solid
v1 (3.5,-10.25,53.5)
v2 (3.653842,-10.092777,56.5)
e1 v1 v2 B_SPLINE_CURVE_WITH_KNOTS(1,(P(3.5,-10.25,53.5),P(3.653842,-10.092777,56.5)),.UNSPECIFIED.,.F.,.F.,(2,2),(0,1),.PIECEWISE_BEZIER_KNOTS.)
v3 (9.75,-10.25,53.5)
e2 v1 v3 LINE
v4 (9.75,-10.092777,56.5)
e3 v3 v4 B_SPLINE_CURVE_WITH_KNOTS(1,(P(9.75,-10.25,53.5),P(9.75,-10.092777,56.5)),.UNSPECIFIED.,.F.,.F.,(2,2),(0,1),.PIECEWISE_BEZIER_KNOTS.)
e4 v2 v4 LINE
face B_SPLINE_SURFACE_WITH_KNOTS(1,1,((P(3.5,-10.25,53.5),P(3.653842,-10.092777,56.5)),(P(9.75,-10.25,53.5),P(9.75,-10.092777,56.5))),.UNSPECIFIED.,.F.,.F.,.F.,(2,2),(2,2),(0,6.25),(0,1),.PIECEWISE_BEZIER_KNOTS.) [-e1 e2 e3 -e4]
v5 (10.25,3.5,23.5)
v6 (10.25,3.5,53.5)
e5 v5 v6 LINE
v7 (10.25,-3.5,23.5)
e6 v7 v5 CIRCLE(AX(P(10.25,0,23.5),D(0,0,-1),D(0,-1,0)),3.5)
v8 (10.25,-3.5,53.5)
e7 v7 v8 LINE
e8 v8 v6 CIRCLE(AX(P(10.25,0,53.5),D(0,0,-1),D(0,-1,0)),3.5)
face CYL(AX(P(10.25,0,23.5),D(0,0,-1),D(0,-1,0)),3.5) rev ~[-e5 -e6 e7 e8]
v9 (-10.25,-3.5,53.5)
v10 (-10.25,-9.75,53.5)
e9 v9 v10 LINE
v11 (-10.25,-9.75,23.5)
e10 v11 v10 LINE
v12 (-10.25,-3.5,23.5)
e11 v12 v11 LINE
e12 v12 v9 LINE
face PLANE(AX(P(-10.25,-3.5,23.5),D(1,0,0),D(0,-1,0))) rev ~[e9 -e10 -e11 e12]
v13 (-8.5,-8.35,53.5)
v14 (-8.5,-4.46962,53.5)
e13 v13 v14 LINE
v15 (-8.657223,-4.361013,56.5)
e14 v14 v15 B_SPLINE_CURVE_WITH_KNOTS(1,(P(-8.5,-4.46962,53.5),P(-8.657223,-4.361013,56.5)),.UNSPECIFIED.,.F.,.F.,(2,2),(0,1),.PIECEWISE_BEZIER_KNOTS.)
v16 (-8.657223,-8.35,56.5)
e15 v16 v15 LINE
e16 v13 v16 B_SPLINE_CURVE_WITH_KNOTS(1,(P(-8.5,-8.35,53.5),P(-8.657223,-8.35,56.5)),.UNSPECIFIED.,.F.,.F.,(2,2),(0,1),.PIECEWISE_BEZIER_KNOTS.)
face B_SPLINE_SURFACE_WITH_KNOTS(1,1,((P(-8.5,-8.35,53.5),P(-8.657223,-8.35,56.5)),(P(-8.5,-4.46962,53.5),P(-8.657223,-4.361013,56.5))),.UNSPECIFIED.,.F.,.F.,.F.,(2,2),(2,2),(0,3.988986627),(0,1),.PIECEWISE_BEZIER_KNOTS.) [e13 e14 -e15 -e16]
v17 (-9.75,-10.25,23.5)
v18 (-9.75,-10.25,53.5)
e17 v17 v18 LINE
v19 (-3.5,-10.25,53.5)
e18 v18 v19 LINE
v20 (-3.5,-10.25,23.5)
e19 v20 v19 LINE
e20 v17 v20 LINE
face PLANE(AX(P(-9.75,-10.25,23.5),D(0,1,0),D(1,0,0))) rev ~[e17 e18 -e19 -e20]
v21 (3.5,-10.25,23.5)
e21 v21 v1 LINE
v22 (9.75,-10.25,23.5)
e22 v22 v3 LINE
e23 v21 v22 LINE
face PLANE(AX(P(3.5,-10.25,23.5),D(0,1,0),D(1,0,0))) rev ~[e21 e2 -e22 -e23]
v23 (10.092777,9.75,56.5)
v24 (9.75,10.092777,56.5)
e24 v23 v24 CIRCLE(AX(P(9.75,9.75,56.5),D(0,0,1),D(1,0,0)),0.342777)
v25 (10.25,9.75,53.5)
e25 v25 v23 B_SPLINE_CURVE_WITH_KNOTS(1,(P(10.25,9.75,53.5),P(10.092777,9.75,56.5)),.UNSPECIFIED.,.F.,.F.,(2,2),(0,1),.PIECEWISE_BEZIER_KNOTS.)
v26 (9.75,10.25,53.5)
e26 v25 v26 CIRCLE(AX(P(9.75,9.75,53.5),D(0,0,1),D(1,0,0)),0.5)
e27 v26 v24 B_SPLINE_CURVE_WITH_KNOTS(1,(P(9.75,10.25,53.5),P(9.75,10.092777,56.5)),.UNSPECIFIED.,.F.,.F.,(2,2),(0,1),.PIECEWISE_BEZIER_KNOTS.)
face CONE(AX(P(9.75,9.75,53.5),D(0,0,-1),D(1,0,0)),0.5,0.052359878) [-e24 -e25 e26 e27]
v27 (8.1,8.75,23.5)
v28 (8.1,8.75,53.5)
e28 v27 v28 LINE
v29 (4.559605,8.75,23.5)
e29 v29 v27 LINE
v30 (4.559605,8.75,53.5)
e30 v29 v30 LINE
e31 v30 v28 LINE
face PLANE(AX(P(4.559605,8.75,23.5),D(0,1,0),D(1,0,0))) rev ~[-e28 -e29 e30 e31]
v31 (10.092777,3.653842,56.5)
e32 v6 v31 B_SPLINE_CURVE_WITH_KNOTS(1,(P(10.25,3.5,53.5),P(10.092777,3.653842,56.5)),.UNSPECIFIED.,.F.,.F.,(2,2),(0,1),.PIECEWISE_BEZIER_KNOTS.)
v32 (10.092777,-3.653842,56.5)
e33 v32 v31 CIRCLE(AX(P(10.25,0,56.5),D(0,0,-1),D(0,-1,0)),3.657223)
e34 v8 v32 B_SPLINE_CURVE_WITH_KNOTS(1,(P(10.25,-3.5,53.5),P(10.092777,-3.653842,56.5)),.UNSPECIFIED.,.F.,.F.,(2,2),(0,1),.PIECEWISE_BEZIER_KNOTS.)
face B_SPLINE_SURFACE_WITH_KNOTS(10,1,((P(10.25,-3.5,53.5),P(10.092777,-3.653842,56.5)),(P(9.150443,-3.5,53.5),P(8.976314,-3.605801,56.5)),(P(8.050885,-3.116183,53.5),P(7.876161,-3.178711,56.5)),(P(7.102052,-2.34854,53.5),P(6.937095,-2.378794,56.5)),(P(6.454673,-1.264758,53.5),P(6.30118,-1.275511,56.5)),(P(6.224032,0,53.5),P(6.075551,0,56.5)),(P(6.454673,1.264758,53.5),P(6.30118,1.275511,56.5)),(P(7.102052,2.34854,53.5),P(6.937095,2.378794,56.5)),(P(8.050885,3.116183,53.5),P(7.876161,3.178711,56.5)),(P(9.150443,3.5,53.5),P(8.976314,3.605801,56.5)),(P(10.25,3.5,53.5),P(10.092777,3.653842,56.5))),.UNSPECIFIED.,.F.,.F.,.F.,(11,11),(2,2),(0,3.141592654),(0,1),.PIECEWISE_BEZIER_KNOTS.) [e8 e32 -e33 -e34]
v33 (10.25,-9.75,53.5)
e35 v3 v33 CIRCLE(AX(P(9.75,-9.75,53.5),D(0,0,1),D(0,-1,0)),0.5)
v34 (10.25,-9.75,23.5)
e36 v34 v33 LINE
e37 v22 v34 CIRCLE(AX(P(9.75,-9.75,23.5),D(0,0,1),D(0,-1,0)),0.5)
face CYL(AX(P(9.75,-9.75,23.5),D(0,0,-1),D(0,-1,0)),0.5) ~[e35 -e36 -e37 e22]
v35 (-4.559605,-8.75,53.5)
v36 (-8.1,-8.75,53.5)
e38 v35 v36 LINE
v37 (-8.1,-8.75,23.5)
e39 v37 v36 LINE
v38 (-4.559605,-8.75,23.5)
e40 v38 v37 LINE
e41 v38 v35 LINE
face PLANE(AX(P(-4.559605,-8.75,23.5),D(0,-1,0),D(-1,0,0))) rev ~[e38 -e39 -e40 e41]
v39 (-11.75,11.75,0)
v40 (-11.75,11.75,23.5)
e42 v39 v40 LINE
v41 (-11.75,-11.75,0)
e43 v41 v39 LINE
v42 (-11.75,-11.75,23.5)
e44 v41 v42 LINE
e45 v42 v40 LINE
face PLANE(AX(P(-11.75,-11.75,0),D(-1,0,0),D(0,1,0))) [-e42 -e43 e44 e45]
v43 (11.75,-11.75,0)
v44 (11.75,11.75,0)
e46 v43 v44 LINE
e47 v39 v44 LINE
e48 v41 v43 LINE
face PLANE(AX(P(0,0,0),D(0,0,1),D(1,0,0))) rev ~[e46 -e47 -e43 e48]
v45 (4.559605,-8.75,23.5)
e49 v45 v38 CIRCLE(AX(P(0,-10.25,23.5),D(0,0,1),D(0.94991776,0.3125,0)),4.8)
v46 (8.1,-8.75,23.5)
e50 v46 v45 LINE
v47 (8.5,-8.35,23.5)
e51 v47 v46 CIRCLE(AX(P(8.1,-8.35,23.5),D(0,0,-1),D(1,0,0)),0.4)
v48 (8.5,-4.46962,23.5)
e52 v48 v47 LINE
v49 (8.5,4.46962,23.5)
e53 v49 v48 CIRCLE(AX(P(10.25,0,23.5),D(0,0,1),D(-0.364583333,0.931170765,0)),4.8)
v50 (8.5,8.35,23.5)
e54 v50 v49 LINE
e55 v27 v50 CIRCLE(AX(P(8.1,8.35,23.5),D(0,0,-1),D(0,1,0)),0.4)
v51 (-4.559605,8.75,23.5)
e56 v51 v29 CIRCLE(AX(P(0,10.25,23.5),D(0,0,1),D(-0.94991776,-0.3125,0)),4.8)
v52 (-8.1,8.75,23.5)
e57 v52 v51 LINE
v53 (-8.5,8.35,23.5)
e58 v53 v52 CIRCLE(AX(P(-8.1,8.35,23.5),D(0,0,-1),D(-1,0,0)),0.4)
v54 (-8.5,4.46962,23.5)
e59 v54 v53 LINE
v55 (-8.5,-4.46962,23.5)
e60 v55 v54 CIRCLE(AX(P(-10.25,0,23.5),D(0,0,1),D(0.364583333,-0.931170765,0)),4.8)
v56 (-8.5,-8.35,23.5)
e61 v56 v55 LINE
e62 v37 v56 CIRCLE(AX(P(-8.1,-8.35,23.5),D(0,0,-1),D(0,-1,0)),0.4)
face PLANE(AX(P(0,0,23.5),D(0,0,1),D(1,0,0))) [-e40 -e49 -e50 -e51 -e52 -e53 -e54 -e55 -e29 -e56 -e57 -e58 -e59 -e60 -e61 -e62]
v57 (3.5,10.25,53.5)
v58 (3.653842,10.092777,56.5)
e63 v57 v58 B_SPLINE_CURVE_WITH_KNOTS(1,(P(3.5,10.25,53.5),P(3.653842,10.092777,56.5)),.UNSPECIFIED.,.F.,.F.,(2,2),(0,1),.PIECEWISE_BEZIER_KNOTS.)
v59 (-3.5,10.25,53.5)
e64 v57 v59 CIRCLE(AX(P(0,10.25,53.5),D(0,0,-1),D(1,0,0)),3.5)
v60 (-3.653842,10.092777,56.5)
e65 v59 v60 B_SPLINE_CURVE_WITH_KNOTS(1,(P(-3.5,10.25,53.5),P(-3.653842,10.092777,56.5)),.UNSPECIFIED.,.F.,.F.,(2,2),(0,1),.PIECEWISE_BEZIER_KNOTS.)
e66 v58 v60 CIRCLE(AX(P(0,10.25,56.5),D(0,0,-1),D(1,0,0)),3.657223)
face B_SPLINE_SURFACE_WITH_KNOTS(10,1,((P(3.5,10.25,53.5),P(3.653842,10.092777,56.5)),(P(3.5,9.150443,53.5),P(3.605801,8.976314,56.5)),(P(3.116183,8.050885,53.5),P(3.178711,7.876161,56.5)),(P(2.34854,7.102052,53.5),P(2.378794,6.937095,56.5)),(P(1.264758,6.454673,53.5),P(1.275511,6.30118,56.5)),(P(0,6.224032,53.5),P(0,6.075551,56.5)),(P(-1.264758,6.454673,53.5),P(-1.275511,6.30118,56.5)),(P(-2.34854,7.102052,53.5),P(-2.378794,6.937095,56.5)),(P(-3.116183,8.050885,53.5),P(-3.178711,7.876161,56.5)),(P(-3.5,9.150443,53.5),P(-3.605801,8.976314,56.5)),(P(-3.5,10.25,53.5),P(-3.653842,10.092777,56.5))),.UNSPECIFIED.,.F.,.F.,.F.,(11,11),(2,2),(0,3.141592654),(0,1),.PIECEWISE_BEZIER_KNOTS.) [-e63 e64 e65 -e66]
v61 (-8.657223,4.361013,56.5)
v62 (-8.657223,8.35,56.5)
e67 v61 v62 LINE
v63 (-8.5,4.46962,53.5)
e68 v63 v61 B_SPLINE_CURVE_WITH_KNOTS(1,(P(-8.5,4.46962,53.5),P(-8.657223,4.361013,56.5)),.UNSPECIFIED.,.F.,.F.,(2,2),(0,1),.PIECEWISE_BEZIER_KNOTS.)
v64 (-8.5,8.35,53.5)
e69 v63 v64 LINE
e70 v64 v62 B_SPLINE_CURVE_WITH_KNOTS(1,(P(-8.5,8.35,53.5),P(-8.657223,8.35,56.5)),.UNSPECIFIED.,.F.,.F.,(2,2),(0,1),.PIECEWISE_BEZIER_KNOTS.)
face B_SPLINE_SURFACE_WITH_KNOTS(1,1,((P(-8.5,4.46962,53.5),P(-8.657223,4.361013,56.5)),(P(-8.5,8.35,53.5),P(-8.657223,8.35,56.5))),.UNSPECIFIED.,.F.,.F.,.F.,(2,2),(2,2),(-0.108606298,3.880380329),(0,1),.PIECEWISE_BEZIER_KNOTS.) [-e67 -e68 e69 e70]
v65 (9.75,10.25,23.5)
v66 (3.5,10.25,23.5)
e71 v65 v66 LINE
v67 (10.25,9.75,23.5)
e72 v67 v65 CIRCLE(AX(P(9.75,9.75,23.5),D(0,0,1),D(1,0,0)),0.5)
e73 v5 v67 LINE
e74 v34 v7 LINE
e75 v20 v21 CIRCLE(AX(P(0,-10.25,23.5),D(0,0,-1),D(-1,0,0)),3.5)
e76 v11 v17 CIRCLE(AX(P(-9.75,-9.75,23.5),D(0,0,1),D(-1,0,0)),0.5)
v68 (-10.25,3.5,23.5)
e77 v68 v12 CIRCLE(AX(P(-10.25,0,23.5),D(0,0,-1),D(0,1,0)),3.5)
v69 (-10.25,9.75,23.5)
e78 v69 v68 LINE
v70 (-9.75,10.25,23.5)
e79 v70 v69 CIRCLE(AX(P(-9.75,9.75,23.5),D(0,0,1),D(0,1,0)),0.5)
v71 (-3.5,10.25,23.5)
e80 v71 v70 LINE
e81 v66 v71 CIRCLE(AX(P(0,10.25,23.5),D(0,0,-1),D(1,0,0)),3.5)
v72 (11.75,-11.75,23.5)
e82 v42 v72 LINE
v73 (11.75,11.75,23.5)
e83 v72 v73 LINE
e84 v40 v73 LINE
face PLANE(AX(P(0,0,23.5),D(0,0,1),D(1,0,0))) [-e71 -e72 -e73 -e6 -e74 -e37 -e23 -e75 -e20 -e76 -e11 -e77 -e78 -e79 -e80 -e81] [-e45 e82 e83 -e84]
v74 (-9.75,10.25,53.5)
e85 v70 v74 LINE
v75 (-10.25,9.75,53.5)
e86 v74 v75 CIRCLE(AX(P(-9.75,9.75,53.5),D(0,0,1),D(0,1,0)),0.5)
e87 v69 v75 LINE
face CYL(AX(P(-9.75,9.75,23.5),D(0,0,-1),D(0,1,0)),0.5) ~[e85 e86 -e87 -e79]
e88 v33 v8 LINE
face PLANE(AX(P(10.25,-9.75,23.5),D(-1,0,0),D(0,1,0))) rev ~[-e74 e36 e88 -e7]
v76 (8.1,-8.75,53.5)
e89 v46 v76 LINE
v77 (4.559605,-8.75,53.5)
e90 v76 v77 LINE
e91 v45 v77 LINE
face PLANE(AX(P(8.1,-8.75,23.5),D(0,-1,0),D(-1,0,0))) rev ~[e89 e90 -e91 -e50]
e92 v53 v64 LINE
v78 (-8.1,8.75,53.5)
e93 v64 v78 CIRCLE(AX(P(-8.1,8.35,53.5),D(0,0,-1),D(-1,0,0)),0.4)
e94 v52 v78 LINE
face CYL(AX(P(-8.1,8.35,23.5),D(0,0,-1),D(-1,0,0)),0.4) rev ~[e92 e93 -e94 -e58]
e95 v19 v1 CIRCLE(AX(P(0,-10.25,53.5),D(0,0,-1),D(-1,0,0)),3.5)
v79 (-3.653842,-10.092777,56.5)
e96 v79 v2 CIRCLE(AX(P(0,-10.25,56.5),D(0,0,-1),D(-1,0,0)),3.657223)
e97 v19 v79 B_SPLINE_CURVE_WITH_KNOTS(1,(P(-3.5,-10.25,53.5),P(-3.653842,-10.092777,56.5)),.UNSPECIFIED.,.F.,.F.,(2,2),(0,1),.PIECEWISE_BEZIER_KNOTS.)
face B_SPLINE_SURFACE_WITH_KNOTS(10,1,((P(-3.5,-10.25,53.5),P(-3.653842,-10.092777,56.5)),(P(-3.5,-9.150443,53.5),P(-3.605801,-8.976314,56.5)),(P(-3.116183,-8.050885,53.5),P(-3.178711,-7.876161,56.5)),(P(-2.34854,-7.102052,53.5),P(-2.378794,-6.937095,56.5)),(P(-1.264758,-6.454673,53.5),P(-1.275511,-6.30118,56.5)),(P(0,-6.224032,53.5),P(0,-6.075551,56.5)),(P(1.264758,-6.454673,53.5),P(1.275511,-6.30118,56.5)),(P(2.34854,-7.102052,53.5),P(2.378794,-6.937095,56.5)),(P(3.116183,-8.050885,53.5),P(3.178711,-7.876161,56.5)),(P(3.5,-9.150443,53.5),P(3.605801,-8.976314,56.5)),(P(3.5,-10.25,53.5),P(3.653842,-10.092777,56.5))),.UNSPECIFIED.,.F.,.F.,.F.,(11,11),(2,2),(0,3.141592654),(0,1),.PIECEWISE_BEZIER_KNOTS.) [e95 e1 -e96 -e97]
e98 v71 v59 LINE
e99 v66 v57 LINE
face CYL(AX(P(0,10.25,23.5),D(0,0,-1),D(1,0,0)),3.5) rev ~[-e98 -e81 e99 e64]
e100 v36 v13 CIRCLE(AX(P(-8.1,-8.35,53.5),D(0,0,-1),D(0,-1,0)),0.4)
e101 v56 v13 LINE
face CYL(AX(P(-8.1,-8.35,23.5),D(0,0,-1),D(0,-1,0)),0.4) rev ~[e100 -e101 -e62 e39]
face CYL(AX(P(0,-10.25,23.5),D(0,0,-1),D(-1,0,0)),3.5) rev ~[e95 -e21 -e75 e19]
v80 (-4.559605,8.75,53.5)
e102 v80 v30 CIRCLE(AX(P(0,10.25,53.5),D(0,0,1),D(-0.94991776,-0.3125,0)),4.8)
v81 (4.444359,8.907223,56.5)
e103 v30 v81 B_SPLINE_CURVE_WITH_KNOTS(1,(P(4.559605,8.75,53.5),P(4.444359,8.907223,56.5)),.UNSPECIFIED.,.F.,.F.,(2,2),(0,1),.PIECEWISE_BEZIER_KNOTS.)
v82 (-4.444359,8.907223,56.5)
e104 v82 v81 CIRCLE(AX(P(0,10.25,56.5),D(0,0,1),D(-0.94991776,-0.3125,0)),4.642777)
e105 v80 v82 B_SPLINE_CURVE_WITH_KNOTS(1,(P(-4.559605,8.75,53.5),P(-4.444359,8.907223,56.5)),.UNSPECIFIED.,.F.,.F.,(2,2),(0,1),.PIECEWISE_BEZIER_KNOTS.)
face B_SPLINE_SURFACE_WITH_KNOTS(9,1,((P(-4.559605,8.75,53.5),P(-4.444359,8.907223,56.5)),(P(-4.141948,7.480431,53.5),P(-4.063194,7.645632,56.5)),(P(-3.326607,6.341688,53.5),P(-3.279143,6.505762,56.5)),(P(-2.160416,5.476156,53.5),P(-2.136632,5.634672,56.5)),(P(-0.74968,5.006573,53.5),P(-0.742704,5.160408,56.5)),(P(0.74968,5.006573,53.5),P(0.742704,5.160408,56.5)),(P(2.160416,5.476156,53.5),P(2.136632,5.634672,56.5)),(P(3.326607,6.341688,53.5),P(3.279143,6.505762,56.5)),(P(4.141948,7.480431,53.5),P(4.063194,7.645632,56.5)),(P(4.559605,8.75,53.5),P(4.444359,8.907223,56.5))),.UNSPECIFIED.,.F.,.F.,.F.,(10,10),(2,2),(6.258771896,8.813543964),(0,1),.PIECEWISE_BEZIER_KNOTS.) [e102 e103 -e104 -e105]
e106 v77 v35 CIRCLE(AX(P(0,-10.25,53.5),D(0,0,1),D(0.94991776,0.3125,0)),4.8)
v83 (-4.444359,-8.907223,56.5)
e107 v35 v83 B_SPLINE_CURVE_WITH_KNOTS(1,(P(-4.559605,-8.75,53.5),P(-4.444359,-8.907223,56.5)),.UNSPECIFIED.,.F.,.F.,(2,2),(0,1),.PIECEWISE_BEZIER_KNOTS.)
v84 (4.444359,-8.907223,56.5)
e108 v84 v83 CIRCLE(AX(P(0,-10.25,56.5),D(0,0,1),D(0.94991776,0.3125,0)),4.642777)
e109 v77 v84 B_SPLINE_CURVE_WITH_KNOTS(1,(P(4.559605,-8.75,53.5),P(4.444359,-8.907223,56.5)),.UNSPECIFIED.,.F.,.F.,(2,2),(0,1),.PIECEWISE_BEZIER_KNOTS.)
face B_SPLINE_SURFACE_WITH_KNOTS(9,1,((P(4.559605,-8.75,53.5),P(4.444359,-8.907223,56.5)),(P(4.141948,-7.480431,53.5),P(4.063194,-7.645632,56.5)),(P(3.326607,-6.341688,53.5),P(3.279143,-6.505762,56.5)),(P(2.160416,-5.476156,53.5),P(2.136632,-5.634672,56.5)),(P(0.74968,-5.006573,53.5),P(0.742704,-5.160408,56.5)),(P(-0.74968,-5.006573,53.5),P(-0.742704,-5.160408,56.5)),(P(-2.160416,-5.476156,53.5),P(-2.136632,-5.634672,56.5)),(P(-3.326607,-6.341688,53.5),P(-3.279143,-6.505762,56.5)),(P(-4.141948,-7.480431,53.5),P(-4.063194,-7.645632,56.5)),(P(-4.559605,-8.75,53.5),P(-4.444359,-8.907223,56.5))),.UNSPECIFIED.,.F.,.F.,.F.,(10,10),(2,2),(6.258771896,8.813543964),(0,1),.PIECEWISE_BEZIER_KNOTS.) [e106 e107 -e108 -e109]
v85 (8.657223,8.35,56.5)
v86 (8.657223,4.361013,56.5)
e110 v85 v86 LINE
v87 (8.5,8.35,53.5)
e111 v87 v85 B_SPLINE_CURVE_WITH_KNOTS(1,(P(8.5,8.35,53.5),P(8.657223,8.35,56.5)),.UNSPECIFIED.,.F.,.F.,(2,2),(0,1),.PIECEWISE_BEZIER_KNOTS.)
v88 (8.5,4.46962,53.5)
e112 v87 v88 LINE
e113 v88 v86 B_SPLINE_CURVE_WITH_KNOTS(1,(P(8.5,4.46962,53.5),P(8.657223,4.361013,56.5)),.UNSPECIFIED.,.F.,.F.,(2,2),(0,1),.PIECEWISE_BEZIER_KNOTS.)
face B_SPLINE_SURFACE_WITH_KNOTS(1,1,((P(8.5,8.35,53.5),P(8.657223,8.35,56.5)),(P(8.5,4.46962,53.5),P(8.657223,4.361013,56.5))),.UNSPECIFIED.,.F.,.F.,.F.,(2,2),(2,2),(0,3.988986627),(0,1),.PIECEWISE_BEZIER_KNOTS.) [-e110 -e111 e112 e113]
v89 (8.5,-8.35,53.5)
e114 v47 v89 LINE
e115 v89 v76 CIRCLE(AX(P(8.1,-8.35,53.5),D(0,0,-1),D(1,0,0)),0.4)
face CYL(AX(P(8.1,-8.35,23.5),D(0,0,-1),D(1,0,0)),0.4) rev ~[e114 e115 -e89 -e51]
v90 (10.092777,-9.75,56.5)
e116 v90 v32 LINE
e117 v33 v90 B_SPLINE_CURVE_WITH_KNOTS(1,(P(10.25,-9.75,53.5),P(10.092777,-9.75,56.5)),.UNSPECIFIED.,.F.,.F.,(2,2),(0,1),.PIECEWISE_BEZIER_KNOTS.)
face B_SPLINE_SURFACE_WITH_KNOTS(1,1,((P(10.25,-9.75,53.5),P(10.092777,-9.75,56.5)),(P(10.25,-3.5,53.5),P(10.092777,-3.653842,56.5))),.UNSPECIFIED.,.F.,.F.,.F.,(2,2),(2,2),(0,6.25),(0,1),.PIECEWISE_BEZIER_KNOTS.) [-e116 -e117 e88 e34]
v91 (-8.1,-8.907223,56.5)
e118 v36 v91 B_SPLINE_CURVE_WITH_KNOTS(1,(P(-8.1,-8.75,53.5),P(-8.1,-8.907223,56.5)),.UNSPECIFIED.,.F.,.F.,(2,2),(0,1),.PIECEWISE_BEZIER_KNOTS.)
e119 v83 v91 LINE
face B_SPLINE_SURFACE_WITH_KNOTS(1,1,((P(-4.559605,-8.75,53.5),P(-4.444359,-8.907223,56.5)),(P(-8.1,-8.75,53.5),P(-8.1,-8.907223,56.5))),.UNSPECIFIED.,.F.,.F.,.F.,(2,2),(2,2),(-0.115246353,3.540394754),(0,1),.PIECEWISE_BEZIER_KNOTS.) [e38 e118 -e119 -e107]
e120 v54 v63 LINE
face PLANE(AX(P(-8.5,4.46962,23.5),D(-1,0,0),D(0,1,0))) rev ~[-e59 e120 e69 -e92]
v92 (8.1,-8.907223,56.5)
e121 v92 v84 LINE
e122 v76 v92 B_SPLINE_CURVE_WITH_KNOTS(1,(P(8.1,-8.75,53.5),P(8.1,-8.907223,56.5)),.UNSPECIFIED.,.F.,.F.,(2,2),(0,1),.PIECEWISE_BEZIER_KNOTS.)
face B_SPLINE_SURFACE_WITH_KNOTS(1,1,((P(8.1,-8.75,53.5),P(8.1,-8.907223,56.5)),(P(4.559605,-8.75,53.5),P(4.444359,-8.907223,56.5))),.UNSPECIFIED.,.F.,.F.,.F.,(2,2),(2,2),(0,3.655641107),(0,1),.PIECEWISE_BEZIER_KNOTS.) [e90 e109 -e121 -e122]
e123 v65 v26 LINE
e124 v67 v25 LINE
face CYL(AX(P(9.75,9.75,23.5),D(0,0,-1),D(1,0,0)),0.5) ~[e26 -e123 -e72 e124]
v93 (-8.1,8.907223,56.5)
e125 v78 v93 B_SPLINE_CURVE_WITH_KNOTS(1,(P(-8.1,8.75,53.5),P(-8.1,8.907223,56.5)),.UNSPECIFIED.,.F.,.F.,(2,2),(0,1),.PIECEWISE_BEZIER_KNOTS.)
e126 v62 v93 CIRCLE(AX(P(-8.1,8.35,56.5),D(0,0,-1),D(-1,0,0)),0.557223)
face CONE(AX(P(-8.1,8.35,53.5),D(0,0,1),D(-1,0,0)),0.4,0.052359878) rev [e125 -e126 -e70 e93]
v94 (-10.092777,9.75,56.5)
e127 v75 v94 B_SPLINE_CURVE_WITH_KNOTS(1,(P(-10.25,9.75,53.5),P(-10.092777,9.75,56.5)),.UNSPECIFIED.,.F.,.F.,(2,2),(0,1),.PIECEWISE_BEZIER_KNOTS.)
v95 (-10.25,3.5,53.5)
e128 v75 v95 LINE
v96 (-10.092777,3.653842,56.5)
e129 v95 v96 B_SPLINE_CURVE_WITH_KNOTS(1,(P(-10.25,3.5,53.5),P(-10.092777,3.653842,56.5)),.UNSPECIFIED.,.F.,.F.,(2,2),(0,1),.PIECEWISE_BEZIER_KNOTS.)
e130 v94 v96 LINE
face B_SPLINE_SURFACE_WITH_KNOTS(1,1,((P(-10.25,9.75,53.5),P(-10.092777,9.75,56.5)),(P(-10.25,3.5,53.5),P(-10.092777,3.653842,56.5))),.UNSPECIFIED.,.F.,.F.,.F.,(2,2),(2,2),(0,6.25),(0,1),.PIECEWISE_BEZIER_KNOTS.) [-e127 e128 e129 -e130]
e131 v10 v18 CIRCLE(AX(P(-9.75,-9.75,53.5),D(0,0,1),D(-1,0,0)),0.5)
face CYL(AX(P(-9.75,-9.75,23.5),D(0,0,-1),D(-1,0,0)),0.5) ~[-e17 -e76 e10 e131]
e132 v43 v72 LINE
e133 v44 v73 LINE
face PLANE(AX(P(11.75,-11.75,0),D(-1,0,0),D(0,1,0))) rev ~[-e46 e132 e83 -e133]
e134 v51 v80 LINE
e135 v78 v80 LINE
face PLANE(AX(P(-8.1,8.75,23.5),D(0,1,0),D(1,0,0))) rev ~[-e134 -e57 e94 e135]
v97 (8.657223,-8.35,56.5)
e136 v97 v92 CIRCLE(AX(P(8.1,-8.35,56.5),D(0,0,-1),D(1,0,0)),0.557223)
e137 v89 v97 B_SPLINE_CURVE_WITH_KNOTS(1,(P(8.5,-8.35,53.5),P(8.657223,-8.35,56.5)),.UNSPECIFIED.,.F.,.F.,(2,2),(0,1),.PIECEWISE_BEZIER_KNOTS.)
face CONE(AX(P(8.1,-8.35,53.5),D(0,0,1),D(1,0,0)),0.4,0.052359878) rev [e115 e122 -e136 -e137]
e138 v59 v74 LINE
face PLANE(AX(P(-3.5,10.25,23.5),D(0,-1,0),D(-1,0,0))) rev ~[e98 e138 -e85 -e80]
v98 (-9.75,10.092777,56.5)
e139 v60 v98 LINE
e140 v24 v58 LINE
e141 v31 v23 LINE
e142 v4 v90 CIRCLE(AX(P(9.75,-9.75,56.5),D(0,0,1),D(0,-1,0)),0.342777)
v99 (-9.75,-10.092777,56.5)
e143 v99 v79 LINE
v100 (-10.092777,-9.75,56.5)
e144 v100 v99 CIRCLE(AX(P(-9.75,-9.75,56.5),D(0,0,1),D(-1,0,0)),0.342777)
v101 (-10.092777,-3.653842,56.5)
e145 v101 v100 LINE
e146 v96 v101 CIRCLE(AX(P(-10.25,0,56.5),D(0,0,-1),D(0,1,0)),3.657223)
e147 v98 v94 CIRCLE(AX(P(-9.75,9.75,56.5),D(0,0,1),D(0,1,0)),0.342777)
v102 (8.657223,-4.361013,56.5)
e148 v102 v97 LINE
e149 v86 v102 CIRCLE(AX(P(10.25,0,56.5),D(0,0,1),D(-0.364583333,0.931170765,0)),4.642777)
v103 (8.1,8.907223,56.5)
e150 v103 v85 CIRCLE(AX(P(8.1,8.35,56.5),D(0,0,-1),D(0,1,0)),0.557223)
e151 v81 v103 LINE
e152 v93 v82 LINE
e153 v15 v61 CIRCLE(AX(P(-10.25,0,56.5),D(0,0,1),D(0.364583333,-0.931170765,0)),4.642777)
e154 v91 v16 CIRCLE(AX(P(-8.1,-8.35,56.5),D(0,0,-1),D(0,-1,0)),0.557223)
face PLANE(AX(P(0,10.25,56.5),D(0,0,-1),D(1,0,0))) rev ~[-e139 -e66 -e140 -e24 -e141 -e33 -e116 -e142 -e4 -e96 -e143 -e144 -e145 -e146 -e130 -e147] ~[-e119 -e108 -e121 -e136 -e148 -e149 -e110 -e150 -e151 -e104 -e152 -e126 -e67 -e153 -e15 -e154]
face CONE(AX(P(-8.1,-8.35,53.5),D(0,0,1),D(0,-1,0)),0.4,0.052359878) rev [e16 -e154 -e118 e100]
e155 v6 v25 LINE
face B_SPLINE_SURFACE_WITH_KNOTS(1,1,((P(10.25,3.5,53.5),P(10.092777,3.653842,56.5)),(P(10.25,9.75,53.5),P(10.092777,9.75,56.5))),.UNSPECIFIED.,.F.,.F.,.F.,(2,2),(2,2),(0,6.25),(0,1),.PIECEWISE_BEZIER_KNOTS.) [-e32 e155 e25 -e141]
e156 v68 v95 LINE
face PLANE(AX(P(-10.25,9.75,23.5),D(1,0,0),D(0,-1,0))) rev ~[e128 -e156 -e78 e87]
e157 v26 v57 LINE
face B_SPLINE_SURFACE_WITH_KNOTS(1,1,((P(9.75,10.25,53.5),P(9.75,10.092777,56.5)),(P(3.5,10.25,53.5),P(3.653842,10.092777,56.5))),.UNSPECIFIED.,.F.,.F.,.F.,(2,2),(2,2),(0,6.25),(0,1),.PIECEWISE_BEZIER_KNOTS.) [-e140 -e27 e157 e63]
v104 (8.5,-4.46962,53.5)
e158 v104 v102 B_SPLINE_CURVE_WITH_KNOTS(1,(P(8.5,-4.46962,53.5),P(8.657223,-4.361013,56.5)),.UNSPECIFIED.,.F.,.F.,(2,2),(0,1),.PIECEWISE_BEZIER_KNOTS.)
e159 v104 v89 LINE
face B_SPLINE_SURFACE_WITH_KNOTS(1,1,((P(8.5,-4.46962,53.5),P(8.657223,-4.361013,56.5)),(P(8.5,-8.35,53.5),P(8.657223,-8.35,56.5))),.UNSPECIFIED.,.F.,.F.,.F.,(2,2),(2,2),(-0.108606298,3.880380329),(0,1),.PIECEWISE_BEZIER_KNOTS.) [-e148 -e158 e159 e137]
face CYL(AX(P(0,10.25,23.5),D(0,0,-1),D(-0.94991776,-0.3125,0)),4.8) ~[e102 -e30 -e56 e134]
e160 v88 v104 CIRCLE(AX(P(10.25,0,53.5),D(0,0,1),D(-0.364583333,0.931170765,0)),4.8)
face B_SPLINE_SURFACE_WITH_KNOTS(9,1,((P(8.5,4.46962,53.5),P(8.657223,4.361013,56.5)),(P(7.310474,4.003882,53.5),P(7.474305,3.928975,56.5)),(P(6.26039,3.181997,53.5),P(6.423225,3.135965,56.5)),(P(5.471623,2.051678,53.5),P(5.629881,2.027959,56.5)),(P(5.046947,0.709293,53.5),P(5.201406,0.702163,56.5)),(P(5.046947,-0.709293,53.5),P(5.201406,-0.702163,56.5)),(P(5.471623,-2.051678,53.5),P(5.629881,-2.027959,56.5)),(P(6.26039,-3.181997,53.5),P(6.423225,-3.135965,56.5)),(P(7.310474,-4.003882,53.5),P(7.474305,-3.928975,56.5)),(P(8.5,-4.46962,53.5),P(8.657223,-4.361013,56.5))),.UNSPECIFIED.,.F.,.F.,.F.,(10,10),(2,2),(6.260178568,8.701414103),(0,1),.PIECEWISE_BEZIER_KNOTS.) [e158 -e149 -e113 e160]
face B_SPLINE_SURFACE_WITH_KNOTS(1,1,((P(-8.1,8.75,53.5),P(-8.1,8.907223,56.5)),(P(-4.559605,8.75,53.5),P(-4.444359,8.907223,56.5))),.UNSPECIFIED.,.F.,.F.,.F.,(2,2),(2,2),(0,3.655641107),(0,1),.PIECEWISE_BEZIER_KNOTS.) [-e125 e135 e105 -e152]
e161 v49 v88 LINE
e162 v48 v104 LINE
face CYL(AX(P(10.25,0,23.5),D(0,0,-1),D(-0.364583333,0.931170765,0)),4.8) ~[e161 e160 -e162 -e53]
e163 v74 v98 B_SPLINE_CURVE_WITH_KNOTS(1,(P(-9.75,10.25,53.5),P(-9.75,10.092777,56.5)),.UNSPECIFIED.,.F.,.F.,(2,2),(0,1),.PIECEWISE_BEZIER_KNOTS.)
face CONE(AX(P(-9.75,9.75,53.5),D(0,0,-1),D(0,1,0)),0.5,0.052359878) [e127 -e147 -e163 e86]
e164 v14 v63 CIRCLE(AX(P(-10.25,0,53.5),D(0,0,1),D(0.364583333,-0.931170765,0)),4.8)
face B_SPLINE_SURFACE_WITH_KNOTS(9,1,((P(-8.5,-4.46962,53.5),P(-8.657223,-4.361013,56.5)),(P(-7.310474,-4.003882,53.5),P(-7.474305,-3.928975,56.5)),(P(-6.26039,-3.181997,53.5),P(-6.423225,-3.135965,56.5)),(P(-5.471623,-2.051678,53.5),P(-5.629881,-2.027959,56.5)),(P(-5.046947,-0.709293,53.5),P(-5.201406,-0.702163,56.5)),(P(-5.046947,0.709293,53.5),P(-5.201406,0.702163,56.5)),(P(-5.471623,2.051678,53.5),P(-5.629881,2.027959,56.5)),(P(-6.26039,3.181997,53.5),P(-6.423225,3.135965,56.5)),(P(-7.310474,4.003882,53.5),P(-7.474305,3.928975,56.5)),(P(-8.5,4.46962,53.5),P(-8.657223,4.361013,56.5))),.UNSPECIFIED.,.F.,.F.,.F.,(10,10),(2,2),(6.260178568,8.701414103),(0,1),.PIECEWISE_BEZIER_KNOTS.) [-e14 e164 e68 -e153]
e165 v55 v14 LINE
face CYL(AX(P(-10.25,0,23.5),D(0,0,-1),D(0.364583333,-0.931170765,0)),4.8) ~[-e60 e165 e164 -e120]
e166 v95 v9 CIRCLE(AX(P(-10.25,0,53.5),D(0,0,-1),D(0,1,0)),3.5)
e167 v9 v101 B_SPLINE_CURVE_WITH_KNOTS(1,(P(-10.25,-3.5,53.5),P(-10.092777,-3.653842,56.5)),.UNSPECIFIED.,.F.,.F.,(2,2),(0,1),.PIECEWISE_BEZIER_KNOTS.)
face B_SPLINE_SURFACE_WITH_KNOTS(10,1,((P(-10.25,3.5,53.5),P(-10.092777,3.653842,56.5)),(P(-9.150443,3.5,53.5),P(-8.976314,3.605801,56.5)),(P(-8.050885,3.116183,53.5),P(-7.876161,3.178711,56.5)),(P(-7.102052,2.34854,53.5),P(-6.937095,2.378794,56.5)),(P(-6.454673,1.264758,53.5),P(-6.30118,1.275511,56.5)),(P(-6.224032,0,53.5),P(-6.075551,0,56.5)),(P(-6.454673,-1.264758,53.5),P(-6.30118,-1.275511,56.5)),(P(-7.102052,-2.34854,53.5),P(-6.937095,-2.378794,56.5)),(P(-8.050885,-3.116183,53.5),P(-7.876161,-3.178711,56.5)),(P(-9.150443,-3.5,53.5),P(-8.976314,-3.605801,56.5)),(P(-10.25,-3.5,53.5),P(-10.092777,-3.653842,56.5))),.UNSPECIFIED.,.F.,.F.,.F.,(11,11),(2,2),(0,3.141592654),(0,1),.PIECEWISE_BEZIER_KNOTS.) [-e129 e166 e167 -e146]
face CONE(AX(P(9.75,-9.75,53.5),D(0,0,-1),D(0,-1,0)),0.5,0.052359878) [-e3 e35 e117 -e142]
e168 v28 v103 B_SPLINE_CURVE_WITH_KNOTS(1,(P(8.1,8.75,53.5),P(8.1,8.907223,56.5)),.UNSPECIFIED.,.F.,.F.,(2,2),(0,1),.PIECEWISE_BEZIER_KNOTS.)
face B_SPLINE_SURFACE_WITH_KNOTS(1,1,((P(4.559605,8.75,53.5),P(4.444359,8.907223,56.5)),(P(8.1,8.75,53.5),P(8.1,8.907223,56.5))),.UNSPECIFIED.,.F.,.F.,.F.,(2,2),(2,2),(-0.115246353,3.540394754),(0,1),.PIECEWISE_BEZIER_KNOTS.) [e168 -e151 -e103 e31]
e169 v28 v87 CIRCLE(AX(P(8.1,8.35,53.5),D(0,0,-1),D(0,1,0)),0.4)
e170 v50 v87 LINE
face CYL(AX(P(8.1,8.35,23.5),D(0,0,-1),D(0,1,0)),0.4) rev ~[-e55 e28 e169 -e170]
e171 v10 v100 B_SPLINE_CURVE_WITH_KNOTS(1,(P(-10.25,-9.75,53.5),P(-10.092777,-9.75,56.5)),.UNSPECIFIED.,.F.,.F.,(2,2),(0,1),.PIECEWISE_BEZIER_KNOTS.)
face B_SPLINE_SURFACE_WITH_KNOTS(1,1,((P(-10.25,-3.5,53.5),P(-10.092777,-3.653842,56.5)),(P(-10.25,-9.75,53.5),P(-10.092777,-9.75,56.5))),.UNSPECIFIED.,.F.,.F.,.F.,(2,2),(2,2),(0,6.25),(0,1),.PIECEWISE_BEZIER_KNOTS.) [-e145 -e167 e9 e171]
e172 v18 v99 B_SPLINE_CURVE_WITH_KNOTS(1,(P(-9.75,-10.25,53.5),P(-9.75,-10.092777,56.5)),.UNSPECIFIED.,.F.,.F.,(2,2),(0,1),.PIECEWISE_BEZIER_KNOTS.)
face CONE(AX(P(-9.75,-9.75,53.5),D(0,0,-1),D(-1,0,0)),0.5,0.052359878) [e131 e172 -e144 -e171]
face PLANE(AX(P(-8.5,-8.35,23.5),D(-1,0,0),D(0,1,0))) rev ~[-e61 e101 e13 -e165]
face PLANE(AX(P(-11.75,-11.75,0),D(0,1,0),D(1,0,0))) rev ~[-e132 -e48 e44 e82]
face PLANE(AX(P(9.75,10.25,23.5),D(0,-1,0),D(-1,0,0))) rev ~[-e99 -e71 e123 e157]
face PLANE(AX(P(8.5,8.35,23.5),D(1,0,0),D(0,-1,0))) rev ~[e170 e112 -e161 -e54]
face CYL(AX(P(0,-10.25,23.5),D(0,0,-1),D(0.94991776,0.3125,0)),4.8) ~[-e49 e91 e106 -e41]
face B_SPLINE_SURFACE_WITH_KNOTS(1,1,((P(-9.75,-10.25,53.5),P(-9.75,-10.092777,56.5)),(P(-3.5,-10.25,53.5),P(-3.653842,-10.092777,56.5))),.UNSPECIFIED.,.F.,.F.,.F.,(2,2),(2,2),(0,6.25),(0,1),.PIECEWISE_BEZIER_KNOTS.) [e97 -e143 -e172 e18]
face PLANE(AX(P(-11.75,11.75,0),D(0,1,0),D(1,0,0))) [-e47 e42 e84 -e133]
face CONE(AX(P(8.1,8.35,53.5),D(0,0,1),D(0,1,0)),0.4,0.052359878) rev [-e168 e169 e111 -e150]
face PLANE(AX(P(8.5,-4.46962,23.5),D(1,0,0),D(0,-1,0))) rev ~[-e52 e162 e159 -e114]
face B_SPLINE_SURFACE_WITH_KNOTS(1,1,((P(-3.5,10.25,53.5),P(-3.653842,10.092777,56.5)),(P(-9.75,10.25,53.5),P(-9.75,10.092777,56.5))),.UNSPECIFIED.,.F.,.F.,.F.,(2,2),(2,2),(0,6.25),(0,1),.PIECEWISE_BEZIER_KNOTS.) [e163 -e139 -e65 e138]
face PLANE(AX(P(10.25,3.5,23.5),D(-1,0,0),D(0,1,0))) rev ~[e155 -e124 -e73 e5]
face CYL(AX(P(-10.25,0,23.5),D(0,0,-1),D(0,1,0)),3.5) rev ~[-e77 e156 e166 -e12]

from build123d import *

# Parameters (mm, degrees)
F0_W     = 23.5
F0_H     = 23.5
F1_DEPTH = 23.5
F3_DEPTH = 30
F4_DEPTH = 3
F4_TAPER = 3


with BuildPart() as f1:
    # F0 (on Top) → F1 (new body)
    with BuildSketch(Plane.XY):
        Rectangle(F0_W, F0_H)
    extrude(amount=F1_DEPTH)

    # F2 (on face) → F3 (join)
    with BuildSketch(Plane.XY.offset(23.5)):
        with BuildLine():
            ThreePointArc((3.5, 10.25), (0, 6.75), (-3.5, 10.25))
            Line((-3.5, 10.25), (-9.75, 10.25))
            ThreePointArc((-9.75, 10.25), (-10.1035533906, 10.1035533906), (-10.25, 9.75))
            Line((-10.25, 9.75), (-10.25, 3.5))
            ThreePointArc((-10.25, 3.5), (-6.75, 0), (-10.25, -3.5))
            Line((-10.25, -3.5), (-10.25, -9.75))
            ThreePointArc((-10.25, -9.75), (-10.1035533906, -10.1035533906), (-9.75, -10.25))
            Line((-9.75, -10.25), (-3.5, -10.25))
            ThreePointArc((-3.5, -10.25), (0, -6.75), (3.5, -10.25))
            Line((3.5, -10.25), (9.75, -10.25))
            ThreePointArc((9.75, -10.25), (10.1035533906, -10.1035533906), (10.25, -9.75))
            Line((10.25, -9.75), (10.25, -3.5))
            ThreePointArc((10.25, -3.5), (6.75, 0), (10.25, 3.5))
            Line((10.25, 3.5), (10.25, 9.75))
            ThreePointArc((10.25, 9.75), (10.1035533906, 10.1035533906), (9.75, 10.25))
            Line((9.75, 10.25), (3.5, 10.25))
        make_face()
        with BuildLine():
            Line((-8.5, -8.35), (-8.5, -4.4696196706))
            ThreePointArc((-8.5, -4.4696196706), (-5.45, 0), (-8.5, 4.4696196706))
            Line((-8.5, 4.4696196706), (-8.5, 8.35))
            ThreePointArc((-8.5, 8.35), (-8.3828427125, 8.6328427125), (-8.1, 8.75))
            Line((-8.1, 8.75), (-4.5596052461, 8.75))
            ThreePointArc((-4.5596052461, 8.75), (0, 5.45), (4.5596052461, 8.75))
            Line((4.5596052461, 8.75), (8.1, 8.75))
            ThreePointArc((8.1, 8.75), (8.3828427125, 8.6328427125), (8.5, 8.35))
            Line((8.5, 8.35), (8.5, 4.4696196706))
            ThreePointArc((8.5, 4.4696196706), (5.45, 0), (8.5, -4.4696196706))
            Line((8.5, -4.4696196706), (8.5, -8.35))
            ThreePointArc((8.5, -8.35), (8.3828427125, -8.6328427125), (8.1, -8.75))
            Line((8.1, -8.75), (4.5596052461, -8.75))
            ThreePointArc((4.5596052461, -8.75), (0, -5.45), (-4.5596052461, -8.75))
            Line((-4.5596052461, -8.75), (-8.1, -8.75))
            ThreePointArc((-8.1, -8.75), (-8.3828427125, -8.6328427125), (-8.5, -8.35))
        make_face(mode=Mode.SUBTRACT)
    extrude(amount=F3_DEPTH)

    # F3_face (on face) → F4 (join)
    with BuildSketch(Plane.XY.offset(53.5)):
        with BuildLine():
            ThreePointArc((3.5, 10.25), (0, 6.75), (-3.5, 10.25))
            Line((-3.5, 10.25), (-9.75, 10.25))
            ThreePointArc((-9.75, 10.25), (-10.1035533906, 10.1035533906), (-10.25, 9.75))
            Line((-10.25, 9.75), (-10.25, 3.5))
            ThreePointArc((-10.25, 3.5), (-6.75, 0), (-10.25, -3.5))
            Line((-10.25, -3.5), (-10.25, -9.75))
            ThreePointArc((-10.25, -9.75), (-10.1035533906, -10.1035533906), (-9.75, -10.25))
            Line((-9.75, -10.25), (-3.5, -10.25))
            ThreePointArc((-3.5, -10.25), (0, -6.75), (3.5, -10.25))
            Line((3.5, -10.25), (9.75, -10.25))
            ThreePointArc((9.75, -10.25), (10.1035533906, -10.1035533906), (10.25, -9.75))
            Line((10.25, -9.75), (10.25, -3.5))
            ThreePointArc((10.25, -3.5), (6.75, 0), (10.25, 3.5))
            Line((10.25, 3.5), (10.25, 9.75))
            ThreePointArc((10.25, 9.75), (10.1035533906, 10.1035533906), (9.75, 10.25))
            Line((9.75, 10.25), (3.5, 10.25))
        make_face()
        with BuildLine():
            Line((-4.5596052461, -8.75), (-8.1, -8.75))
            ThreePointArc((-8.1, -8.75), (-8.3828427125, -8.6328427125), (-8.5, -8.35))
            Line((-8.5, -8.35), (-8.5, -4.4696196706))
            ThreePointArc((-8.5, -4.4696196706), (-5.45, 0), (-8.5, 4.4696196706))
            Line((-8.5, 4.4696196706), (-8.5, 8.35))
            ThreePointArc((-8.5, 8.35), (-8.3828427125, 8.6328427125), (-8.1, 8.75))
            Line((-8.1, 8.75), (-4.5596052461, 8.75))
            ThreePointArc((-4.5596052461, 8.75), (0, 5.45), (4.5596052461, 8.75))
            Line((4.5596052461, 8.75), (8.1, 8.75))
            ThreePointArc((8.1, 8.75), (8.3828427125, 8.6328427125), (8.5, 8.35))
            Line((8.5, 8.35), (8.5, 4.4696196706))
            ThreePointArc((8.5, 4.4696196706), (5.45, 0), (8.5, -4.4696196706))
            Line((8.5, -4.4696196706), (8.5, -8.35))
            ThreePointArc((8.5, -8.35), (8.3828427125, -8.6328427125), (8.1, -8.75))
            Line((8.1, -8.75), (4.5596052461, -8.75))
            ThreePointArc((4.5596052461, -8.75), (0, -5.45), (-4.5596052461, -8.75))
        make_face(mode=Mode.SUBTRACT)
    extrude(amount=F4_DEPTH, taper=F4_TAPER)


solid = f1.part
